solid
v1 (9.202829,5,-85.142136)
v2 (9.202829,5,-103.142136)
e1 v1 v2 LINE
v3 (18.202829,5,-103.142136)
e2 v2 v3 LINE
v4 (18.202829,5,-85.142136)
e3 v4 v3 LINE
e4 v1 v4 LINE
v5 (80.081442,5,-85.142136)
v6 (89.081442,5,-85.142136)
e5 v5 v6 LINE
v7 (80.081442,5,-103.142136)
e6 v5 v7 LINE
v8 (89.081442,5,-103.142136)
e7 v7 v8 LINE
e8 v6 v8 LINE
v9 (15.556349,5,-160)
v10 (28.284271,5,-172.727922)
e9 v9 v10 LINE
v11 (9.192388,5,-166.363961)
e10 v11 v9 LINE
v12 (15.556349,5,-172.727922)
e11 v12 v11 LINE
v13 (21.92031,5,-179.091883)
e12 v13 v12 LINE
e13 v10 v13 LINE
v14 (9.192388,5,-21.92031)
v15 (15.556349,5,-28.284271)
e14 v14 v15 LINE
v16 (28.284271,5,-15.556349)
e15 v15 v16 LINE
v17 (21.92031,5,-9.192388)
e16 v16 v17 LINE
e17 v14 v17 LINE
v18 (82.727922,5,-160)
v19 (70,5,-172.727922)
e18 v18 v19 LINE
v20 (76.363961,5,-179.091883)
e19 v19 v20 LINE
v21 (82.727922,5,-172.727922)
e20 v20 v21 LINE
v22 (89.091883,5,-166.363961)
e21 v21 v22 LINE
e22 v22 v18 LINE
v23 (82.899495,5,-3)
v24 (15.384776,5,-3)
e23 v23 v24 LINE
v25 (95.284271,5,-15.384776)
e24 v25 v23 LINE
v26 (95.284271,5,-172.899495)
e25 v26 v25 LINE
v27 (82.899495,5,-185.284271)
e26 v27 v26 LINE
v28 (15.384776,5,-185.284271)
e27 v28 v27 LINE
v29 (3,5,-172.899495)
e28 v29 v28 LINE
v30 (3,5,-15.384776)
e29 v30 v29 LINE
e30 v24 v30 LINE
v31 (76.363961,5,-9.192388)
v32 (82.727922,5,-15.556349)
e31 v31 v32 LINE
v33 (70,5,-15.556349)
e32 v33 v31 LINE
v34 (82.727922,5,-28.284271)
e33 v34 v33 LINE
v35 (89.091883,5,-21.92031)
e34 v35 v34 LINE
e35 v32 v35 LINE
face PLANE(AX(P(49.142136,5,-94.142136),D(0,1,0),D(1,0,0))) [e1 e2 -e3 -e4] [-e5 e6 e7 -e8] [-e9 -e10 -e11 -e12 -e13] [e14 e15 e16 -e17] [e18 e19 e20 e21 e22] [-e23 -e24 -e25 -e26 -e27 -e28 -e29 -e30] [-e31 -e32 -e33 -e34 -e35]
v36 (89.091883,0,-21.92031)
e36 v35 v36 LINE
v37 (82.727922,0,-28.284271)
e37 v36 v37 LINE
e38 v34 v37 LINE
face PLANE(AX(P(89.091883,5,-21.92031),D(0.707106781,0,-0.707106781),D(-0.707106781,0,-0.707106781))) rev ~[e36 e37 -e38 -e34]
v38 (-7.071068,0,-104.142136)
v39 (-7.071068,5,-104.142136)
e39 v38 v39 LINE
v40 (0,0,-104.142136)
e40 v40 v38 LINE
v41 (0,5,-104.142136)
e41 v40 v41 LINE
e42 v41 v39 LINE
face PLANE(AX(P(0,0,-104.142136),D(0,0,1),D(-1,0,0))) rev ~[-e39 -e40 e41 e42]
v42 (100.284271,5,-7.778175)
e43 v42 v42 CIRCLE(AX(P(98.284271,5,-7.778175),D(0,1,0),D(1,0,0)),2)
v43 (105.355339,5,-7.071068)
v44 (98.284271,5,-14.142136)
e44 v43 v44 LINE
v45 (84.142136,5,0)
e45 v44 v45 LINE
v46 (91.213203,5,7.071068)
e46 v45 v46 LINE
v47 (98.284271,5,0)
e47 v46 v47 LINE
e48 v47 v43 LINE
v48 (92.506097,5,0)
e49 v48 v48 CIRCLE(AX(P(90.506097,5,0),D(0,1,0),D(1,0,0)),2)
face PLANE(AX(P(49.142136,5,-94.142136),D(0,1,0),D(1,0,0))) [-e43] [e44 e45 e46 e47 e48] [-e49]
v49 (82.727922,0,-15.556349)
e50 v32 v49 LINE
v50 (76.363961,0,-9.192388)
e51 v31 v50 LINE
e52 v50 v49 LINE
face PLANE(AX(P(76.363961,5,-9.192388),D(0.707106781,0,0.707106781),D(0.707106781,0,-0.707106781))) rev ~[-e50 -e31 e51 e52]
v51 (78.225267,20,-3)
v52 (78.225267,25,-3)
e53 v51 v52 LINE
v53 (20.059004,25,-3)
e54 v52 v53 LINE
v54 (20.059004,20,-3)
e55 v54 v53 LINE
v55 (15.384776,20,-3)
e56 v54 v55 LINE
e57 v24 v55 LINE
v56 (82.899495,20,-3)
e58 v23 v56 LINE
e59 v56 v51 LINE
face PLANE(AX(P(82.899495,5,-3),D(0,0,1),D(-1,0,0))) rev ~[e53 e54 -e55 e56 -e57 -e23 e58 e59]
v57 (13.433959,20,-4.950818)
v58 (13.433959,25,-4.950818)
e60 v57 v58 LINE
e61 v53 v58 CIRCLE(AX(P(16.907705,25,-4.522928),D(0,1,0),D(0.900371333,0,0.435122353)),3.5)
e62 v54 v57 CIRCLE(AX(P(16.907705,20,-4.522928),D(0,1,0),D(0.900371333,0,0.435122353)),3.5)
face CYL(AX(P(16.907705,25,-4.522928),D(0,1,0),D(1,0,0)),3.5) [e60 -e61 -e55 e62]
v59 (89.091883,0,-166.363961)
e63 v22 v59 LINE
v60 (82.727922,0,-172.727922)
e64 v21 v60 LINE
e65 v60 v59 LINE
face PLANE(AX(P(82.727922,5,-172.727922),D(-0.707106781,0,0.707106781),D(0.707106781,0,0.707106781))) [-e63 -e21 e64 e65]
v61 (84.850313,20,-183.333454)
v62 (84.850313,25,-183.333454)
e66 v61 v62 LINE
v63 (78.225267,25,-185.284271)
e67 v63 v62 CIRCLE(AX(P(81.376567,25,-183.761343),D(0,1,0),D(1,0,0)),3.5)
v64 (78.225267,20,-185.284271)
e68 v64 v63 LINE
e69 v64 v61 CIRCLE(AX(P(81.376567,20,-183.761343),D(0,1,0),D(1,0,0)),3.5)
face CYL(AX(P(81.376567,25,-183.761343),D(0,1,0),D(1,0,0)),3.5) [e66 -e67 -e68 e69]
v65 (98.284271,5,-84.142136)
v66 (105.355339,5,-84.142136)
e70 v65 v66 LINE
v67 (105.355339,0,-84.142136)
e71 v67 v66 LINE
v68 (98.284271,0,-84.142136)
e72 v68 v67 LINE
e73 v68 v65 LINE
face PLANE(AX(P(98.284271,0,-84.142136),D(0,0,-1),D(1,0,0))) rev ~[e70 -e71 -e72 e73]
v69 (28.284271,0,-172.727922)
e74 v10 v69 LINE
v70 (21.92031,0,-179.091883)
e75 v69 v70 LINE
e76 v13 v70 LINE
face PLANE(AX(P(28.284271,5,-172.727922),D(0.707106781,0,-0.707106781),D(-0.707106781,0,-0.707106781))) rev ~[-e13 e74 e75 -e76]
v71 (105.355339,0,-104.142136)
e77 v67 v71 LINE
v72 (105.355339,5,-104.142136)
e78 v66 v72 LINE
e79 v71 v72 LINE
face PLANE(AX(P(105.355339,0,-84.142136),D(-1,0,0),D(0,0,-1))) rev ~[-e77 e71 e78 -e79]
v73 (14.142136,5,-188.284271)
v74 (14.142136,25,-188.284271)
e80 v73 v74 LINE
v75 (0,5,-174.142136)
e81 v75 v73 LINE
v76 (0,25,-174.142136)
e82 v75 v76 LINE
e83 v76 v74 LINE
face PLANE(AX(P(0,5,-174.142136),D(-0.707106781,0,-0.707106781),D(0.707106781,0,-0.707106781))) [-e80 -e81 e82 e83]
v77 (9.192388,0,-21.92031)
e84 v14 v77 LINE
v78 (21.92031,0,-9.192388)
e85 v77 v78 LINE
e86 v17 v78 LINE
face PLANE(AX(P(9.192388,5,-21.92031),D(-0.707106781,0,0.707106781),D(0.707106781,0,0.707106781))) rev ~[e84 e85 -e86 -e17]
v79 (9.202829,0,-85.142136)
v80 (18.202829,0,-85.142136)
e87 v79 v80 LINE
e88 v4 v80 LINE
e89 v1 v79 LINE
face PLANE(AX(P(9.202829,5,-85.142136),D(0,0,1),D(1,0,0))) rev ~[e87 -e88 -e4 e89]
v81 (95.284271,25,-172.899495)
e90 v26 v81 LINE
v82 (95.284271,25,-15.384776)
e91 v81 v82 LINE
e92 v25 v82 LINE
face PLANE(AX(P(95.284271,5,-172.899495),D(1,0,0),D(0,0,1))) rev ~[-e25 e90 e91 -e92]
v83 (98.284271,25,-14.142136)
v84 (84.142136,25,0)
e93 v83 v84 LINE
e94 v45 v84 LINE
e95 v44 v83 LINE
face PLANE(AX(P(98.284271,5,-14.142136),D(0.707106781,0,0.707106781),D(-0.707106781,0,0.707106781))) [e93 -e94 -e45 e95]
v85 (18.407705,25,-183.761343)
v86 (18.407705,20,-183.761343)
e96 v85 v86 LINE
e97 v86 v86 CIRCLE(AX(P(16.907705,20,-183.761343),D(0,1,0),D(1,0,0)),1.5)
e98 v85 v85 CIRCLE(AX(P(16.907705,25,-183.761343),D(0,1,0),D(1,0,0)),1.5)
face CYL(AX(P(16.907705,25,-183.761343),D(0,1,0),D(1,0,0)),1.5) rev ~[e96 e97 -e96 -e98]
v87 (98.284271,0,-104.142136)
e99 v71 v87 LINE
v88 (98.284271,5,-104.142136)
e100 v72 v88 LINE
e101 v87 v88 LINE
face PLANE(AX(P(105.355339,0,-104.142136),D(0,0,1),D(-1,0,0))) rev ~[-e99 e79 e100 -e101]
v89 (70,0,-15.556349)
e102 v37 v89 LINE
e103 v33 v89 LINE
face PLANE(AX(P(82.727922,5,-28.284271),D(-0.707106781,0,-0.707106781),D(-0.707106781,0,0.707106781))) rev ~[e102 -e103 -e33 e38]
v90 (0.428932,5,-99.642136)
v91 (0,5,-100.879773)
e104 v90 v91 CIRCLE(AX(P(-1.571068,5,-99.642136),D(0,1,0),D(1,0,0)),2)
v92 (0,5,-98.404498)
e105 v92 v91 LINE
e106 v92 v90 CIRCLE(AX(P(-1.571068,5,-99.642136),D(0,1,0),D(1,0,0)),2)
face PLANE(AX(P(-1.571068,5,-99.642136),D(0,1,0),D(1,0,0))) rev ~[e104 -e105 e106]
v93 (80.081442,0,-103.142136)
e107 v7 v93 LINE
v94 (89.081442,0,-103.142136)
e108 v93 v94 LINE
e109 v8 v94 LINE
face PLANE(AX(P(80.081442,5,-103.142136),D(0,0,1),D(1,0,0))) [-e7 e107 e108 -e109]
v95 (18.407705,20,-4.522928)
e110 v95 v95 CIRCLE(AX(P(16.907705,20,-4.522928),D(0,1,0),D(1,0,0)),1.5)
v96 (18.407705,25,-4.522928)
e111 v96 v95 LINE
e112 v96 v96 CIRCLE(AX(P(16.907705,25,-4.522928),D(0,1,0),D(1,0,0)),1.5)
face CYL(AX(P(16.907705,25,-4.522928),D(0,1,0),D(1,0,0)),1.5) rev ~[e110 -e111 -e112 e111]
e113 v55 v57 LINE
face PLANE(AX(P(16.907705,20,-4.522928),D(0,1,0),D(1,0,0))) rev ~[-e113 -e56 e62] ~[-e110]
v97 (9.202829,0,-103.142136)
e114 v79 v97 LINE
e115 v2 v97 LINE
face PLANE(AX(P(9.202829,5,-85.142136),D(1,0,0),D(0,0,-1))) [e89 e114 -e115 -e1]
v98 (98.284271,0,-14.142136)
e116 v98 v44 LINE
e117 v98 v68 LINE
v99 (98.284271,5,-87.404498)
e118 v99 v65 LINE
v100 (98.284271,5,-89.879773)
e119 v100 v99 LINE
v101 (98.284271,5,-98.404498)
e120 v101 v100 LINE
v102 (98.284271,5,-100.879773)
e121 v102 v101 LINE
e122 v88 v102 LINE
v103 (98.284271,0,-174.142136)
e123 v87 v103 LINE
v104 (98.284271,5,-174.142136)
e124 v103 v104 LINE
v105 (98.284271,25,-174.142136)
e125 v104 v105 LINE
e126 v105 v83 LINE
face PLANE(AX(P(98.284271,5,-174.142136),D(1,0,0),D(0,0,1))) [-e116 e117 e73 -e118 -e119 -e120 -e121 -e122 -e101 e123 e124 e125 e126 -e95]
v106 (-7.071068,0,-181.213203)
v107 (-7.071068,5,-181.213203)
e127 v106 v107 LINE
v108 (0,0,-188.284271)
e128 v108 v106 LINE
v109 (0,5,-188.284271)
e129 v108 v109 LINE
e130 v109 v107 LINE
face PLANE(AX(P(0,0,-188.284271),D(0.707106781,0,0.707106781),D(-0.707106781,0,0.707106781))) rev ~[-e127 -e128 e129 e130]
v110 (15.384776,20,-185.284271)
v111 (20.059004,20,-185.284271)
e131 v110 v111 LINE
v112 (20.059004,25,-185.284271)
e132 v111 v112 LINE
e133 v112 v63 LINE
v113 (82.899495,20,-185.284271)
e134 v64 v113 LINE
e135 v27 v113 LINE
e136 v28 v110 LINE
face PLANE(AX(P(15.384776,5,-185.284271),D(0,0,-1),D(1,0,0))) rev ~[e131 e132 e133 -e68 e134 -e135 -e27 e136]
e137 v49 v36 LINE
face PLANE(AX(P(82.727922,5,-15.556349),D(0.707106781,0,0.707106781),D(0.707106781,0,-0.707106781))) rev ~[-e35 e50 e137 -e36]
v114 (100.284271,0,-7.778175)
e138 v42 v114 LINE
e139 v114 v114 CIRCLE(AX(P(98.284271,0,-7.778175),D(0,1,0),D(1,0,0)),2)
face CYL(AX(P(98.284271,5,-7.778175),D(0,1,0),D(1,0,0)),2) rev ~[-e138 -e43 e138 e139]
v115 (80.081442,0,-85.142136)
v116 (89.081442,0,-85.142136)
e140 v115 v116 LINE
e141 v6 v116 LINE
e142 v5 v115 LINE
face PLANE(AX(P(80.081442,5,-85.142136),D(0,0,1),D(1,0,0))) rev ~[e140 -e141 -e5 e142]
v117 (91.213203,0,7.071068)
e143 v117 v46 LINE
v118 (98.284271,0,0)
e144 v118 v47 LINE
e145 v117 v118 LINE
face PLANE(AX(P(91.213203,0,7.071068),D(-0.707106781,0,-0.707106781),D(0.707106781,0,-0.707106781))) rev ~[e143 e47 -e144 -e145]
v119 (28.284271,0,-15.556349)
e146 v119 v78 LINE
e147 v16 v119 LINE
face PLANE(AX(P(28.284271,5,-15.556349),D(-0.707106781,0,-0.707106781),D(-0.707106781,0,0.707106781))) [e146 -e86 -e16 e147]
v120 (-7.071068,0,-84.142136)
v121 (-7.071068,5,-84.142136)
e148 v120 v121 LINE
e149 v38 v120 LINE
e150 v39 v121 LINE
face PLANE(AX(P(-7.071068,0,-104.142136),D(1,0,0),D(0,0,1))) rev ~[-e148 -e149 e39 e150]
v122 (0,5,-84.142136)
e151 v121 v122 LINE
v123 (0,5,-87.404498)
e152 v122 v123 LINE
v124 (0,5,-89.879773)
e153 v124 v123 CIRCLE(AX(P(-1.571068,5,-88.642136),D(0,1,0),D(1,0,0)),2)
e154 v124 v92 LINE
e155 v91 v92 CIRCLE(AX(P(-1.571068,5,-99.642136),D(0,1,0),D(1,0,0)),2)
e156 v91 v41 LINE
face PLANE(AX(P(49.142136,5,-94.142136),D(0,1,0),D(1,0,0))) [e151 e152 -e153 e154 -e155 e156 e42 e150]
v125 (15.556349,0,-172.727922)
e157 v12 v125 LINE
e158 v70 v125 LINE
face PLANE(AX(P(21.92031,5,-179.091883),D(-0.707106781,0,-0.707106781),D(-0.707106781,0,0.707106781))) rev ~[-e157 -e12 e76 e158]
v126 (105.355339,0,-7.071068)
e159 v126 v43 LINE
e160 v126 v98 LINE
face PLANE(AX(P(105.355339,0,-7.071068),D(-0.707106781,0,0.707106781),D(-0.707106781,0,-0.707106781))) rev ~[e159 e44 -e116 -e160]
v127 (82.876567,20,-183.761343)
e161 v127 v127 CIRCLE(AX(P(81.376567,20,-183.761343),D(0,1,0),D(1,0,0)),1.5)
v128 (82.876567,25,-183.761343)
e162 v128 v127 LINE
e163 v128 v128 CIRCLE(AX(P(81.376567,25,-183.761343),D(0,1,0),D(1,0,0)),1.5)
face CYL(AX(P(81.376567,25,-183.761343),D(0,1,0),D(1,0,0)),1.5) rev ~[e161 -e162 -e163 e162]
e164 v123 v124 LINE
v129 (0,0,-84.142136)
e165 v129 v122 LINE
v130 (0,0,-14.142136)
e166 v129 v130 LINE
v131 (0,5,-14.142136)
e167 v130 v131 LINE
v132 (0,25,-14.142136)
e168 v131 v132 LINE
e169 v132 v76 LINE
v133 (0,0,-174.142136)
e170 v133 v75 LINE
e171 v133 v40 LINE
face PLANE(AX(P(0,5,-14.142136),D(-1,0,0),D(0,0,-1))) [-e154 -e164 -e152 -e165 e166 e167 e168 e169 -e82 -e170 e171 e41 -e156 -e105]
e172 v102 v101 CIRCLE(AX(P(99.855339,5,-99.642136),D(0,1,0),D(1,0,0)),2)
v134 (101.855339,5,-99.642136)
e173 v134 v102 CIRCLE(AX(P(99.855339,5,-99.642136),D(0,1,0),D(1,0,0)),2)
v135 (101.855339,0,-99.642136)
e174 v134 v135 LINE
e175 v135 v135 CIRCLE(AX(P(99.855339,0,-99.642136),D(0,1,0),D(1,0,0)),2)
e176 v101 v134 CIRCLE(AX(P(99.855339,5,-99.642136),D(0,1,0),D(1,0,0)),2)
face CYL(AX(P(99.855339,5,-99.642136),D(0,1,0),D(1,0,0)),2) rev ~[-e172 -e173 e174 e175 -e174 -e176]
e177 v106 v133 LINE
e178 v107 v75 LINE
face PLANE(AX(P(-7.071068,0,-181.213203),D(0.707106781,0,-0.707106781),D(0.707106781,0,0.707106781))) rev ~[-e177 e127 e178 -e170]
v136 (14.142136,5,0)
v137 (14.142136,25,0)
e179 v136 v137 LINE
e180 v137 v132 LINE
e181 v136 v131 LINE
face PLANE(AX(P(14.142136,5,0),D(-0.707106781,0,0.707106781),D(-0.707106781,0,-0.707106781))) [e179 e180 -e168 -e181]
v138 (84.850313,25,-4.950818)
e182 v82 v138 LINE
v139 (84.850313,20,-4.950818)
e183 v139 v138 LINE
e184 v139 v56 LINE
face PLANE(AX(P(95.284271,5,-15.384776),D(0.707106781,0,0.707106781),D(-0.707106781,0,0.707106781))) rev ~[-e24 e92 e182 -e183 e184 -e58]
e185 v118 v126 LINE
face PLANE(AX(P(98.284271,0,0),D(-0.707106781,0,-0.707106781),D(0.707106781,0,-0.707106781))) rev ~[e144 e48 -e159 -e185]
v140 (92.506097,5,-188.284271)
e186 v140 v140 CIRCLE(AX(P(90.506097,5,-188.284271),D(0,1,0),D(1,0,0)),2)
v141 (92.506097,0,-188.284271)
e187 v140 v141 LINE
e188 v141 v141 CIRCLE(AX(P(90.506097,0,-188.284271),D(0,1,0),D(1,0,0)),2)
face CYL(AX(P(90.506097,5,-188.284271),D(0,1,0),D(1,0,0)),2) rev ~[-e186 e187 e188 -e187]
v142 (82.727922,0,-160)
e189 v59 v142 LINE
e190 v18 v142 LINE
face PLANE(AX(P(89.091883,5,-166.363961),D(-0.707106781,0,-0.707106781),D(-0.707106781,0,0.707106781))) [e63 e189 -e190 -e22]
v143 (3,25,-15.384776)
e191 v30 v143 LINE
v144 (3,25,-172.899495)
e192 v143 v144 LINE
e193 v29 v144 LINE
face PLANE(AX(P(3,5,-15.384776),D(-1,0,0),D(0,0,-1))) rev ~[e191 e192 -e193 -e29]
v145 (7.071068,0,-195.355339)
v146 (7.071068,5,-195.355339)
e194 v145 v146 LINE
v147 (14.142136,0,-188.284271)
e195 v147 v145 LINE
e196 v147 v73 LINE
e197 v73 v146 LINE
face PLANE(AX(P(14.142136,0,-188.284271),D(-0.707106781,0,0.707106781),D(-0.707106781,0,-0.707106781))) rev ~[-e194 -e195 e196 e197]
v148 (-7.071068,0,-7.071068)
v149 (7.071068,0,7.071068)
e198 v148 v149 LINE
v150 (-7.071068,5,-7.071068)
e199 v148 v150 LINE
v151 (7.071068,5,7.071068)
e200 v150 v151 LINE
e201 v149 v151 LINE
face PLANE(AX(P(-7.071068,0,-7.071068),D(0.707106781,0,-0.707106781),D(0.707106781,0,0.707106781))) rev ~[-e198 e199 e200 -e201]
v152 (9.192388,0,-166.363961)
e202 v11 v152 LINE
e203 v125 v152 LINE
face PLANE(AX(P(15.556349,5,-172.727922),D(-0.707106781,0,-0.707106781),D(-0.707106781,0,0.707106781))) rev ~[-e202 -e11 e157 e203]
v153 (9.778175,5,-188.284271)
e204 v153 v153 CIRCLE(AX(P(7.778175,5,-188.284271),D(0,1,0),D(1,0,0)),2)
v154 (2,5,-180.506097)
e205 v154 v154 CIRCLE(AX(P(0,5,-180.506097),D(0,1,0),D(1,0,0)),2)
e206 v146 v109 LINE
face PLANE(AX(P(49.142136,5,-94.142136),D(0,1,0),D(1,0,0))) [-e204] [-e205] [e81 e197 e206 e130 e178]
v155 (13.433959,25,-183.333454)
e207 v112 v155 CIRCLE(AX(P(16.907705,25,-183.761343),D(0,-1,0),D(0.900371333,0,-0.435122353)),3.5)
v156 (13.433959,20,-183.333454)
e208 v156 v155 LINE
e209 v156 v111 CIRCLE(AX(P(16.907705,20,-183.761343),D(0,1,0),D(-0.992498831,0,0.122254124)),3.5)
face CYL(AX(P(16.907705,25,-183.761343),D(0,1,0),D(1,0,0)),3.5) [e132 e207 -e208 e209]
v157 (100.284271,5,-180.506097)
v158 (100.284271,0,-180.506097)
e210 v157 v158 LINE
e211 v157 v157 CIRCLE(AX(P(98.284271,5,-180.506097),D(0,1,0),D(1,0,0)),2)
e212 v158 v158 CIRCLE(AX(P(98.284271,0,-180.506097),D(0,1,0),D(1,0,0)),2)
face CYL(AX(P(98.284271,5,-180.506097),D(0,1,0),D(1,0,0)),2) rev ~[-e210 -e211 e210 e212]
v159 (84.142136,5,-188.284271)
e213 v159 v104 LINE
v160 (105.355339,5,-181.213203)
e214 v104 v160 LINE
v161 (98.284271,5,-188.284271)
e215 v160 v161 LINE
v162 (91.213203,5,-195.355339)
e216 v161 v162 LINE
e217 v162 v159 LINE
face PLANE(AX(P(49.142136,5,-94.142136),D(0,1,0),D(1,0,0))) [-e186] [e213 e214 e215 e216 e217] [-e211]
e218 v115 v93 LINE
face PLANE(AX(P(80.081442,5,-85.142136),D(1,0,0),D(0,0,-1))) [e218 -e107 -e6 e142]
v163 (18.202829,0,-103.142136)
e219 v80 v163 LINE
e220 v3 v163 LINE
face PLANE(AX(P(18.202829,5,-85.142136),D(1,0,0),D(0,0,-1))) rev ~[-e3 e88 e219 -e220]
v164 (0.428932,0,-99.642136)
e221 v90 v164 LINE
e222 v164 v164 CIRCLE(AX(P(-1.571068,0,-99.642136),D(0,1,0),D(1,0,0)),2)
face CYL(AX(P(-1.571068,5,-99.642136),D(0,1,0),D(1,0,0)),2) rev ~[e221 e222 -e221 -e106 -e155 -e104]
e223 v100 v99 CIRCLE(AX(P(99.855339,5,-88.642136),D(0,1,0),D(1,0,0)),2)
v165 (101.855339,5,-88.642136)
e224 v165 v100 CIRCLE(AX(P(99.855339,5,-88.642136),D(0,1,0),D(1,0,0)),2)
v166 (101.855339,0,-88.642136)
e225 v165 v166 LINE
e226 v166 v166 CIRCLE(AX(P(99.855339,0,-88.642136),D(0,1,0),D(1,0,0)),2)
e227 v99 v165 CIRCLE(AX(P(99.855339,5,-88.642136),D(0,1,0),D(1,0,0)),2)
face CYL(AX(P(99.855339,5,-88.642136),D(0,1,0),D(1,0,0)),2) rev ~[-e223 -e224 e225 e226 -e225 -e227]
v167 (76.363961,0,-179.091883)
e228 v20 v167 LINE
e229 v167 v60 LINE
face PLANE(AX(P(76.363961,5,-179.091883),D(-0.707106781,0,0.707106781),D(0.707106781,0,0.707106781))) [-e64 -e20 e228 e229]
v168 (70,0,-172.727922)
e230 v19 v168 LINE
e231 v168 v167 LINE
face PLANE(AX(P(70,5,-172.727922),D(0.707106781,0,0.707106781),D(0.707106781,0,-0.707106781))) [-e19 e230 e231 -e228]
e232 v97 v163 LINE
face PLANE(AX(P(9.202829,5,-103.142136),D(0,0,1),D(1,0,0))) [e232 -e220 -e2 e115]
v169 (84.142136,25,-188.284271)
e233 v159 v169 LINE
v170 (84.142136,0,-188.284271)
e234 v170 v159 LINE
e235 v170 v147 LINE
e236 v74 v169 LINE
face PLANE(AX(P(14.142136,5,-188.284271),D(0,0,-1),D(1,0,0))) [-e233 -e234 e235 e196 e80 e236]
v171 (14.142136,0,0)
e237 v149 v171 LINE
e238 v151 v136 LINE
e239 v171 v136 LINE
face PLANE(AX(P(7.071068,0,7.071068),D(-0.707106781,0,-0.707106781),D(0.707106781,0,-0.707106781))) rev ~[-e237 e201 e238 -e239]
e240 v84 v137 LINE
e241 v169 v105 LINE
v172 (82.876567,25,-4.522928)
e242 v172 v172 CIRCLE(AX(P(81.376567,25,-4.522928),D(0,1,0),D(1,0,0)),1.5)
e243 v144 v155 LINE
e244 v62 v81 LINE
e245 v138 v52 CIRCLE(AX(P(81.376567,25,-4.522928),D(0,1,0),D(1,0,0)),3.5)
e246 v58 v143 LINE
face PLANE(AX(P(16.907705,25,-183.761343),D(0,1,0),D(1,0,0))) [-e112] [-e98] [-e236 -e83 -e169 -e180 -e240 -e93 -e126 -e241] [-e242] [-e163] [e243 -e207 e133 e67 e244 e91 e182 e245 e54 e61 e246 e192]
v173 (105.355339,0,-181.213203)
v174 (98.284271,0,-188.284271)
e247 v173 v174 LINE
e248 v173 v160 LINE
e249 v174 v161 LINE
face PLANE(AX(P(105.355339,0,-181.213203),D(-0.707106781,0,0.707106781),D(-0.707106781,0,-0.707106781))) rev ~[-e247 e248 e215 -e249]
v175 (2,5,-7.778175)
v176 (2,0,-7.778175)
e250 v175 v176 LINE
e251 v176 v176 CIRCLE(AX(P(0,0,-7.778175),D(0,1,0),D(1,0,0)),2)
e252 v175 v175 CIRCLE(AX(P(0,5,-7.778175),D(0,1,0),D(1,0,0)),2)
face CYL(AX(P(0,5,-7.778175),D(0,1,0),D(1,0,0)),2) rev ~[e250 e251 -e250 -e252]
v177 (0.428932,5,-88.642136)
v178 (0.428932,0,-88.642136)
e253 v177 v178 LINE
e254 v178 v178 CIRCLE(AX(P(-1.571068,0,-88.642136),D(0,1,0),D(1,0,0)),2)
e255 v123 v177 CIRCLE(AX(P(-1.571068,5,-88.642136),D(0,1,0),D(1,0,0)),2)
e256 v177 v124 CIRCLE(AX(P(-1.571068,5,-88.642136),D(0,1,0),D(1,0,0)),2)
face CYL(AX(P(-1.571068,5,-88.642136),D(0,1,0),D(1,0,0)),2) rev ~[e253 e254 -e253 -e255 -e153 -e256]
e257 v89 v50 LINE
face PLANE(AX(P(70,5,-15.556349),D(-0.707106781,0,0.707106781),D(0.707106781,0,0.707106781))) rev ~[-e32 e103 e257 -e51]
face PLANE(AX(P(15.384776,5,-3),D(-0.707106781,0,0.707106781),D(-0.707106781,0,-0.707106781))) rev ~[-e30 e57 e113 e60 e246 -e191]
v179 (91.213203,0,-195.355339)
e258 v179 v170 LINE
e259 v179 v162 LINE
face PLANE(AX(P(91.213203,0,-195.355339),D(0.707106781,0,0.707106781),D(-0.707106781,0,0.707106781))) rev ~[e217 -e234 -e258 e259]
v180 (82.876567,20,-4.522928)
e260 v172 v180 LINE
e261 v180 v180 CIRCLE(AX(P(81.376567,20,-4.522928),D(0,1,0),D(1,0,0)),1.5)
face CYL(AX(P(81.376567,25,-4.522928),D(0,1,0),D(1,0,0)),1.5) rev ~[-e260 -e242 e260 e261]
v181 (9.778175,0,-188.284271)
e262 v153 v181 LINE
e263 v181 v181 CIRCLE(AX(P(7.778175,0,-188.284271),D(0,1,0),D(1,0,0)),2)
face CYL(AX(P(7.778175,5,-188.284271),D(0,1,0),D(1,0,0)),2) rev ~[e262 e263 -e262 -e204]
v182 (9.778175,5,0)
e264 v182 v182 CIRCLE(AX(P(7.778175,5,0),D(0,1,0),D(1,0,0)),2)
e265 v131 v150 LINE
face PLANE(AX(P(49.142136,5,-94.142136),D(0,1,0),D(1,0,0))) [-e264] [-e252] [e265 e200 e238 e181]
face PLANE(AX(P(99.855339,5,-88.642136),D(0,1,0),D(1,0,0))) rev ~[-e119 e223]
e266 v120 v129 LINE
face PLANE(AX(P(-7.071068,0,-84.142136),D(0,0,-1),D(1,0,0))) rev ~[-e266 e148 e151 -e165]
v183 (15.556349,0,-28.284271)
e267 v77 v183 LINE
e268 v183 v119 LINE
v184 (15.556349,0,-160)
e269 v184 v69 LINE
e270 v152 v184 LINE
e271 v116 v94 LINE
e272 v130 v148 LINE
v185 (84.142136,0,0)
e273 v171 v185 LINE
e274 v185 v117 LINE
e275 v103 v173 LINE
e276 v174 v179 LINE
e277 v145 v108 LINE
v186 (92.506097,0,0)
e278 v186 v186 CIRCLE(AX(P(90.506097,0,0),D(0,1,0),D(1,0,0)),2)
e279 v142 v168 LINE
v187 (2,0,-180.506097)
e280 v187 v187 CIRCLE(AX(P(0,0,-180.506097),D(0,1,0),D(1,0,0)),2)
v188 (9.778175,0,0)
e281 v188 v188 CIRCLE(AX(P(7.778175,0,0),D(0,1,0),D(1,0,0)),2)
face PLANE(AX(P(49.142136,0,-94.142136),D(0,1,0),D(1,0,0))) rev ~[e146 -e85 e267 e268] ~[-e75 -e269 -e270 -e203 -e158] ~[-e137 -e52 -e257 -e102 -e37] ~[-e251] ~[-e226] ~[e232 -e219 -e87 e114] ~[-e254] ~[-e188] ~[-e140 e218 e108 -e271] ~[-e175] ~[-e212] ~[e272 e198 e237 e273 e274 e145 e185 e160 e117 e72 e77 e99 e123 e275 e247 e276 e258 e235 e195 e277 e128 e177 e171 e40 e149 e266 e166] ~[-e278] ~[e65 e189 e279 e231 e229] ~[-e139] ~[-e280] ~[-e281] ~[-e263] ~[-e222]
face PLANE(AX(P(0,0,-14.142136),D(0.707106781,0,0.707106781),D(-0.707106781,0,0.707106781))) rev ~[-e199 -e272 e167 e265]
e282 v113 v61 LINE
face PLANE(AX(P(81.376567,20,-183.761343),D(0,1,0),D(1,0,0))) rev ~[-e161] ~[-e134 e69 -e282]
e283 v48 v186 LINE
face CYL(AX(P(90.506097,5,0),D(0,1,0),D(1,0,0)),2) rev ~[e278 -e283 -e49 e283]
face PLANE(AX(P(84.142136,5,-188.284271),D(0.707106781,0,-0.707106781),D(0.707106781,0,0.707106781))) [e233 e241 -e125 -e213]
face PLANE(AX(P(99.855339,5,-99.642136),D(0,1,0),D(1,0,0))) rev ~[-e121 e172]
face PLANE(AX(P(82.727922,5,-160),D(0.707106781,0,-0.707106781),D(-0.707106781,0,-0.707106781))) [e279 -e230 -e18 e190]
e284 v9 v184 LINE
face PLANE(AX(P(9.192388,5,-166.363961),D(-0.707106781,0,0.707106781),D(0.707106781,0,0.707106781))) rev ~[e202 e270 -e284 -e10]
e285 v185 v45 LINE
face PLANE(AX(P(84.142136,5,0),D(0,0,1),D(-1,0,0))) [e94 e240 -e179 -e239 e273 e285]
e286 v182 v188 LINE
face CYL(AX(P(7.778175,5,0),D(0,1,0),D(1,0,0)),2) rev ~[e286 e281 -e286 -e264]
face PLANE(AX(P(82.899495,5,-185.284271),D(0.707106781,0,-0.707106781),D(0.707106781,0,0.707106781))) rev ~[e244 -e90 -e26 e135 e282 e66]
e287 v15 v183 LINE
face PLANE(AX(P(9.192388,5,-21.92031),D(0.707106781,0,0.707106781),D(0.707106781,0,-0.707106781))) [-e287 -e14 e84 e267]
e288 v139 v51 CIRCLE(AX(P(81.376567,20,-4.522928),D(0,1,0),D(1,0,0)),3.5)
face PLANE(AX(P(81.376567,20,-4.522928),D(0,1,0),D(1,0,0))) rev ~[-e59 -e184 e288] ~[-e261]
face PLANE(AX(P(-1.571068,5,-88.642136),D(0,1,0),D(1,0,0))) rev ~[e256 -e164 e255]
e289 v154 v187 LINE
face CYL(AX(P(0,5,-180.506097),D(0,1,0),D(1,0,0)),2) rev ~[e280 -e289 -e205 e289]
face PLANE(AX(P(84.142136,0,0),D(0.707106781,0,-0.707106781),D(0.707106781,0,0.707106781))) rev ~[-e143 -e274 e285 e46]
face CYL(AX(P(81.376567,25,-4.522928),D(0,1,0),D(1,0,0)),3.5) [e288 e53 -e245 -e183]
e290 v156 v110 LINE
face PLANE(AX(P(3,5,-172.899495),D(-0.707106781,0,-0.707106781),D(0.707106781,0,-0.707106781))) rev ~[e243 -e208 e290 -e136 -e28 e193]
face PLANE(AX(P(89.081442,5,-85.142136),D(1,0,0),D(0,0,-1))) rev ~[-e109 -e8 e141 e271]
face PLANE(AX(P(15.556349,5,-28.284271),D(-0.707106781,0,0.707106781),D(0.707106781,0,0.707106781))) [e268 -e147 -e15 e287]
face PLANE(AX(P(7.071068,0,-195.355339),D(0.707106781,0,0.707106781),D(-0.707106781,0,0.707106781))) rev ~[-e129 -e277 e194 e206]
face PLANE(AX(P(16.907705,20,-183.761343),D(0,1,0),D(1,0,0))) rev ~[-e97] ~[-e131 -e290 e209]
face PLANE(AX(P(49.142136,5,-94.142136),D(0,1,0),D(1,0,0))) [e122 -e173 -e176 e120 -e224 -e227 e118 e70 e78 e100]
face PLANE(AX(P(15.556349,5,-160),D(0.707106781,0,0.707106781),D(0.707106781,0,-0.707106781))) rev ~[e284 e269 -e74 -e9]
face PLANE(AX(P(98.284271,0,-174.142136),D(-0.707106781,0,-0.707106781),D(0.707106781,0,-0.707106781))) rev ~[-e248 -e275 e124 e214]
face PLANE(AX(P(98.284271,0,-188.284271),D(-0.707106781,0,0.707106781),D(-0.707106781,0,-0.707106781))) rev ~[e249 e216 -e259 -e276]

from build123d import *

# Parameters (mm, degrees)
BOSS_EXTRUDE1_DEPTH = 5
BOSS_EXTRUDE3_DEPTH = 20
SKETCH5_W           = 9
SKETCH5_H           = 18
CUT_EXTRUDE3_DEPTH  = 20
SKETCH6_R           = 3.5
SKETCH6_R_2         = 1.5
BOSS_EXTRUDE4_DEPTH = 5
SKETCH7_R           = 2
CUT_EXTRUDE4_DEPTH  = 5


with BuildPart() as part:
    # Sketch1 → Boss-Extrude1 (new body)
    with BuildSketch(Plane(origin=(0, 0, 0), x_dir=(1, 0, 0), z_dir=(0, 1, 0))):
        Polygon((14.142135624, 0), (84.142135624, 0), (91.213203436, -7.071067812), (98.284271247, 0), (105.355339059, 7.071067812), (98.284271247, 14.142135624), (98.284271247, 84.142135624), (105.355339059, 84.142135624), (105.355339059, 104.142135624), (98.284271247, 104.142135624), (98.284271247, 174.142135624), (105.355339059, 181.213203436), (98.284271247, 188.284271247), (91.213203436, 195.355339059), (84.142135624, 188.284271247), (14.142135624, 188.284271247), (7.071067812, 195.355339059), (0, 188.284271247), (-7.071067812, 181.213203436), (0, 174.142135624), (0, 104.142135624), (-7.071067812, 104.142135624), (-7.071067812, 84.142135624), (0, 84.142135624), (0, 14.142135624), (-7.071067812, 7.071067812), (0, 0), (7.071067812, -7.071067812), align=None)
    extrude(amount=BOSS_EXTRUDE1_DEPTH)

    # Sketch4 → Boss-Extrude3 (add)
    with BuildSketch(Plane(origin=(0, 5, 0), x_dir=(1, 0, 0), z_dir=(0, 1, 0))):
        Polygon((0, 174.142135624), (14.142135624, 188.284271247), (84.142135624, 188.284271247), (98.284271247, 174.142135624), (98.284271247, 14.142135624), (84.142135624, 0), (14.142135624, 0), (0, 14.142135624), align=None)
        Polygon((3, 15.384776311), (3, 172.899494937), (15.384776311, 185.284271247), (82.899494937, 185.284271247), (95.284271247, 172.899494937), (95.284271247, 15.384776311), (82.899494937, 3), (15.384776311, 3), align=None, mode=Mode.SUBTRACT)
    extrude(amount=BOSS_EXTRUDE3_DEPTH)

    # Sketch5 → Cut-Extrude3 (cut)
    with BuildSketch(Plane(origin=(0, 5, 0), x_dir=(1, 0, 0), z_dir=(0, 1, 0))):
        Polygon((70, 15.556349186), (76.363961031, 9.192388155), (82.727922061, 15.556349186), (89.091883092, 21.920310217), (82.727922061, 28.284271247), align=None)
        Polygon((21.920310217, 9.192388155), (15.556349186, 15.556349186), (9.192388155, 21.920310217), (15.556349186, 28.284271247), (28.284271247, 15.556349186), align=None)
        with Locations((13.702828803, 94.142135624)):
            Rectangle(SKETCH5_W, SKETCH5_H)
        with Locations((84.581442444, 94.142135624)):
            Rectangle(SKETCH5_W, SKETCH5_H)
        Polygon((76.363961031, 179.091883092), (82.727922061, 172.727922061), (89.091883092, 166.363961031), (82.727922061, 160), (70, 172.727922061), align=None)
        Polygon((15.556349186, 160), (28.284271247, 172.727922061), (21.920310217, 179.091883092), (15.556349186, 172.727922061), (9.192388155, 166.363961031), align=None)
    extrude(amount=-CUT_EXTRUDE3_DEPTH, mode=Mode.SUBTRACT)

    # Sketch6 → Boss-Extrude4 (add)
    with BuildSketch(Plane(origin=(0, 25, 0), x_dir=(1, 0, 0), z_dir=(0, 1, 0))):
        with Locations((16.907704548, 183.761343011)):
            Circle(SKETCH6_R)
        with Locations((16.907704548, 183.761343011)):
            Circle(SKETCH6_R_2, mode=Mode.SUBTRACT)
        with Locations((81.3765667, 183.761343011)):
            Circle(SKETCH6_R)
        with Locations((81.3765667, 183.761343011)):
            Circle(SKETCH6_R_2, mode=Mode.SUBTRACT)
        with Locations((81.3765667, 4.522928237)):
            Circle(SKETCH6_R)
        with Locations((81.3765667, 4.522928237)):
            Circle(SKETCH6_R_2, mode=Mode.SUBTRACT)
        with Locations((16.907704548, 4.522928237)):
            Circle(SKETCH6_R)
        with Locations((16.907704548, 4.522928237)):
            Circle(SKETCH6_R_2, mode=Mode.SUBTRACT)
    extrude(amount=-BOSS_EXTRUDE4_DEPTH)

    # Sketch7 → Cut-Extrude4 (cut)
    with BuildSketch(Plane(origin=(0, 5, 0), x_dir=(1, 0, 0), z_dir=(0, 1, 0))):
        with Locations((7.778174593, 188.284271247)):
            Circle(SKETCH7_R)
        with Locations((0, 180.506096654)):
            Circle(SKETCH7_R)
        with Locations((90.506096654, 188.284271247)):
            Circle(SKETCH7_R)
        with Locations((98.284271247, 180.506096654)):
            Circle(SKETCH7_R)
        with Locations((99.855339059, 99.642135624)):
            Circle(SKETCH7_R)
        with Locations((99.855339059, 88.642135624)):
            Circle(SKETCH7_R)
        with Locations((98.284271247, 7.778174593)):
            Circle(SKETCH7_R)
        with Locations((90.506096654, 0)):
            Circle(SKETCH7_R)
        with Locations((7.778174593, 0)):
            Circle(SKETCH7_R)
        with Locations((0, 7.778174593)):
            Circle(SKETCH7_R)
        with Locations((-1.571067812, 88.642135624)):
            Circle(SKETCH7_R)
        with Locations((-1.571067812, 99.642135624)):
            Circle(SKETCH7_R)
    extrude(amount=-CUT_EXTRUDE4_DEPTH, mode=Mode.SUBTRACT)


solid = part.part
